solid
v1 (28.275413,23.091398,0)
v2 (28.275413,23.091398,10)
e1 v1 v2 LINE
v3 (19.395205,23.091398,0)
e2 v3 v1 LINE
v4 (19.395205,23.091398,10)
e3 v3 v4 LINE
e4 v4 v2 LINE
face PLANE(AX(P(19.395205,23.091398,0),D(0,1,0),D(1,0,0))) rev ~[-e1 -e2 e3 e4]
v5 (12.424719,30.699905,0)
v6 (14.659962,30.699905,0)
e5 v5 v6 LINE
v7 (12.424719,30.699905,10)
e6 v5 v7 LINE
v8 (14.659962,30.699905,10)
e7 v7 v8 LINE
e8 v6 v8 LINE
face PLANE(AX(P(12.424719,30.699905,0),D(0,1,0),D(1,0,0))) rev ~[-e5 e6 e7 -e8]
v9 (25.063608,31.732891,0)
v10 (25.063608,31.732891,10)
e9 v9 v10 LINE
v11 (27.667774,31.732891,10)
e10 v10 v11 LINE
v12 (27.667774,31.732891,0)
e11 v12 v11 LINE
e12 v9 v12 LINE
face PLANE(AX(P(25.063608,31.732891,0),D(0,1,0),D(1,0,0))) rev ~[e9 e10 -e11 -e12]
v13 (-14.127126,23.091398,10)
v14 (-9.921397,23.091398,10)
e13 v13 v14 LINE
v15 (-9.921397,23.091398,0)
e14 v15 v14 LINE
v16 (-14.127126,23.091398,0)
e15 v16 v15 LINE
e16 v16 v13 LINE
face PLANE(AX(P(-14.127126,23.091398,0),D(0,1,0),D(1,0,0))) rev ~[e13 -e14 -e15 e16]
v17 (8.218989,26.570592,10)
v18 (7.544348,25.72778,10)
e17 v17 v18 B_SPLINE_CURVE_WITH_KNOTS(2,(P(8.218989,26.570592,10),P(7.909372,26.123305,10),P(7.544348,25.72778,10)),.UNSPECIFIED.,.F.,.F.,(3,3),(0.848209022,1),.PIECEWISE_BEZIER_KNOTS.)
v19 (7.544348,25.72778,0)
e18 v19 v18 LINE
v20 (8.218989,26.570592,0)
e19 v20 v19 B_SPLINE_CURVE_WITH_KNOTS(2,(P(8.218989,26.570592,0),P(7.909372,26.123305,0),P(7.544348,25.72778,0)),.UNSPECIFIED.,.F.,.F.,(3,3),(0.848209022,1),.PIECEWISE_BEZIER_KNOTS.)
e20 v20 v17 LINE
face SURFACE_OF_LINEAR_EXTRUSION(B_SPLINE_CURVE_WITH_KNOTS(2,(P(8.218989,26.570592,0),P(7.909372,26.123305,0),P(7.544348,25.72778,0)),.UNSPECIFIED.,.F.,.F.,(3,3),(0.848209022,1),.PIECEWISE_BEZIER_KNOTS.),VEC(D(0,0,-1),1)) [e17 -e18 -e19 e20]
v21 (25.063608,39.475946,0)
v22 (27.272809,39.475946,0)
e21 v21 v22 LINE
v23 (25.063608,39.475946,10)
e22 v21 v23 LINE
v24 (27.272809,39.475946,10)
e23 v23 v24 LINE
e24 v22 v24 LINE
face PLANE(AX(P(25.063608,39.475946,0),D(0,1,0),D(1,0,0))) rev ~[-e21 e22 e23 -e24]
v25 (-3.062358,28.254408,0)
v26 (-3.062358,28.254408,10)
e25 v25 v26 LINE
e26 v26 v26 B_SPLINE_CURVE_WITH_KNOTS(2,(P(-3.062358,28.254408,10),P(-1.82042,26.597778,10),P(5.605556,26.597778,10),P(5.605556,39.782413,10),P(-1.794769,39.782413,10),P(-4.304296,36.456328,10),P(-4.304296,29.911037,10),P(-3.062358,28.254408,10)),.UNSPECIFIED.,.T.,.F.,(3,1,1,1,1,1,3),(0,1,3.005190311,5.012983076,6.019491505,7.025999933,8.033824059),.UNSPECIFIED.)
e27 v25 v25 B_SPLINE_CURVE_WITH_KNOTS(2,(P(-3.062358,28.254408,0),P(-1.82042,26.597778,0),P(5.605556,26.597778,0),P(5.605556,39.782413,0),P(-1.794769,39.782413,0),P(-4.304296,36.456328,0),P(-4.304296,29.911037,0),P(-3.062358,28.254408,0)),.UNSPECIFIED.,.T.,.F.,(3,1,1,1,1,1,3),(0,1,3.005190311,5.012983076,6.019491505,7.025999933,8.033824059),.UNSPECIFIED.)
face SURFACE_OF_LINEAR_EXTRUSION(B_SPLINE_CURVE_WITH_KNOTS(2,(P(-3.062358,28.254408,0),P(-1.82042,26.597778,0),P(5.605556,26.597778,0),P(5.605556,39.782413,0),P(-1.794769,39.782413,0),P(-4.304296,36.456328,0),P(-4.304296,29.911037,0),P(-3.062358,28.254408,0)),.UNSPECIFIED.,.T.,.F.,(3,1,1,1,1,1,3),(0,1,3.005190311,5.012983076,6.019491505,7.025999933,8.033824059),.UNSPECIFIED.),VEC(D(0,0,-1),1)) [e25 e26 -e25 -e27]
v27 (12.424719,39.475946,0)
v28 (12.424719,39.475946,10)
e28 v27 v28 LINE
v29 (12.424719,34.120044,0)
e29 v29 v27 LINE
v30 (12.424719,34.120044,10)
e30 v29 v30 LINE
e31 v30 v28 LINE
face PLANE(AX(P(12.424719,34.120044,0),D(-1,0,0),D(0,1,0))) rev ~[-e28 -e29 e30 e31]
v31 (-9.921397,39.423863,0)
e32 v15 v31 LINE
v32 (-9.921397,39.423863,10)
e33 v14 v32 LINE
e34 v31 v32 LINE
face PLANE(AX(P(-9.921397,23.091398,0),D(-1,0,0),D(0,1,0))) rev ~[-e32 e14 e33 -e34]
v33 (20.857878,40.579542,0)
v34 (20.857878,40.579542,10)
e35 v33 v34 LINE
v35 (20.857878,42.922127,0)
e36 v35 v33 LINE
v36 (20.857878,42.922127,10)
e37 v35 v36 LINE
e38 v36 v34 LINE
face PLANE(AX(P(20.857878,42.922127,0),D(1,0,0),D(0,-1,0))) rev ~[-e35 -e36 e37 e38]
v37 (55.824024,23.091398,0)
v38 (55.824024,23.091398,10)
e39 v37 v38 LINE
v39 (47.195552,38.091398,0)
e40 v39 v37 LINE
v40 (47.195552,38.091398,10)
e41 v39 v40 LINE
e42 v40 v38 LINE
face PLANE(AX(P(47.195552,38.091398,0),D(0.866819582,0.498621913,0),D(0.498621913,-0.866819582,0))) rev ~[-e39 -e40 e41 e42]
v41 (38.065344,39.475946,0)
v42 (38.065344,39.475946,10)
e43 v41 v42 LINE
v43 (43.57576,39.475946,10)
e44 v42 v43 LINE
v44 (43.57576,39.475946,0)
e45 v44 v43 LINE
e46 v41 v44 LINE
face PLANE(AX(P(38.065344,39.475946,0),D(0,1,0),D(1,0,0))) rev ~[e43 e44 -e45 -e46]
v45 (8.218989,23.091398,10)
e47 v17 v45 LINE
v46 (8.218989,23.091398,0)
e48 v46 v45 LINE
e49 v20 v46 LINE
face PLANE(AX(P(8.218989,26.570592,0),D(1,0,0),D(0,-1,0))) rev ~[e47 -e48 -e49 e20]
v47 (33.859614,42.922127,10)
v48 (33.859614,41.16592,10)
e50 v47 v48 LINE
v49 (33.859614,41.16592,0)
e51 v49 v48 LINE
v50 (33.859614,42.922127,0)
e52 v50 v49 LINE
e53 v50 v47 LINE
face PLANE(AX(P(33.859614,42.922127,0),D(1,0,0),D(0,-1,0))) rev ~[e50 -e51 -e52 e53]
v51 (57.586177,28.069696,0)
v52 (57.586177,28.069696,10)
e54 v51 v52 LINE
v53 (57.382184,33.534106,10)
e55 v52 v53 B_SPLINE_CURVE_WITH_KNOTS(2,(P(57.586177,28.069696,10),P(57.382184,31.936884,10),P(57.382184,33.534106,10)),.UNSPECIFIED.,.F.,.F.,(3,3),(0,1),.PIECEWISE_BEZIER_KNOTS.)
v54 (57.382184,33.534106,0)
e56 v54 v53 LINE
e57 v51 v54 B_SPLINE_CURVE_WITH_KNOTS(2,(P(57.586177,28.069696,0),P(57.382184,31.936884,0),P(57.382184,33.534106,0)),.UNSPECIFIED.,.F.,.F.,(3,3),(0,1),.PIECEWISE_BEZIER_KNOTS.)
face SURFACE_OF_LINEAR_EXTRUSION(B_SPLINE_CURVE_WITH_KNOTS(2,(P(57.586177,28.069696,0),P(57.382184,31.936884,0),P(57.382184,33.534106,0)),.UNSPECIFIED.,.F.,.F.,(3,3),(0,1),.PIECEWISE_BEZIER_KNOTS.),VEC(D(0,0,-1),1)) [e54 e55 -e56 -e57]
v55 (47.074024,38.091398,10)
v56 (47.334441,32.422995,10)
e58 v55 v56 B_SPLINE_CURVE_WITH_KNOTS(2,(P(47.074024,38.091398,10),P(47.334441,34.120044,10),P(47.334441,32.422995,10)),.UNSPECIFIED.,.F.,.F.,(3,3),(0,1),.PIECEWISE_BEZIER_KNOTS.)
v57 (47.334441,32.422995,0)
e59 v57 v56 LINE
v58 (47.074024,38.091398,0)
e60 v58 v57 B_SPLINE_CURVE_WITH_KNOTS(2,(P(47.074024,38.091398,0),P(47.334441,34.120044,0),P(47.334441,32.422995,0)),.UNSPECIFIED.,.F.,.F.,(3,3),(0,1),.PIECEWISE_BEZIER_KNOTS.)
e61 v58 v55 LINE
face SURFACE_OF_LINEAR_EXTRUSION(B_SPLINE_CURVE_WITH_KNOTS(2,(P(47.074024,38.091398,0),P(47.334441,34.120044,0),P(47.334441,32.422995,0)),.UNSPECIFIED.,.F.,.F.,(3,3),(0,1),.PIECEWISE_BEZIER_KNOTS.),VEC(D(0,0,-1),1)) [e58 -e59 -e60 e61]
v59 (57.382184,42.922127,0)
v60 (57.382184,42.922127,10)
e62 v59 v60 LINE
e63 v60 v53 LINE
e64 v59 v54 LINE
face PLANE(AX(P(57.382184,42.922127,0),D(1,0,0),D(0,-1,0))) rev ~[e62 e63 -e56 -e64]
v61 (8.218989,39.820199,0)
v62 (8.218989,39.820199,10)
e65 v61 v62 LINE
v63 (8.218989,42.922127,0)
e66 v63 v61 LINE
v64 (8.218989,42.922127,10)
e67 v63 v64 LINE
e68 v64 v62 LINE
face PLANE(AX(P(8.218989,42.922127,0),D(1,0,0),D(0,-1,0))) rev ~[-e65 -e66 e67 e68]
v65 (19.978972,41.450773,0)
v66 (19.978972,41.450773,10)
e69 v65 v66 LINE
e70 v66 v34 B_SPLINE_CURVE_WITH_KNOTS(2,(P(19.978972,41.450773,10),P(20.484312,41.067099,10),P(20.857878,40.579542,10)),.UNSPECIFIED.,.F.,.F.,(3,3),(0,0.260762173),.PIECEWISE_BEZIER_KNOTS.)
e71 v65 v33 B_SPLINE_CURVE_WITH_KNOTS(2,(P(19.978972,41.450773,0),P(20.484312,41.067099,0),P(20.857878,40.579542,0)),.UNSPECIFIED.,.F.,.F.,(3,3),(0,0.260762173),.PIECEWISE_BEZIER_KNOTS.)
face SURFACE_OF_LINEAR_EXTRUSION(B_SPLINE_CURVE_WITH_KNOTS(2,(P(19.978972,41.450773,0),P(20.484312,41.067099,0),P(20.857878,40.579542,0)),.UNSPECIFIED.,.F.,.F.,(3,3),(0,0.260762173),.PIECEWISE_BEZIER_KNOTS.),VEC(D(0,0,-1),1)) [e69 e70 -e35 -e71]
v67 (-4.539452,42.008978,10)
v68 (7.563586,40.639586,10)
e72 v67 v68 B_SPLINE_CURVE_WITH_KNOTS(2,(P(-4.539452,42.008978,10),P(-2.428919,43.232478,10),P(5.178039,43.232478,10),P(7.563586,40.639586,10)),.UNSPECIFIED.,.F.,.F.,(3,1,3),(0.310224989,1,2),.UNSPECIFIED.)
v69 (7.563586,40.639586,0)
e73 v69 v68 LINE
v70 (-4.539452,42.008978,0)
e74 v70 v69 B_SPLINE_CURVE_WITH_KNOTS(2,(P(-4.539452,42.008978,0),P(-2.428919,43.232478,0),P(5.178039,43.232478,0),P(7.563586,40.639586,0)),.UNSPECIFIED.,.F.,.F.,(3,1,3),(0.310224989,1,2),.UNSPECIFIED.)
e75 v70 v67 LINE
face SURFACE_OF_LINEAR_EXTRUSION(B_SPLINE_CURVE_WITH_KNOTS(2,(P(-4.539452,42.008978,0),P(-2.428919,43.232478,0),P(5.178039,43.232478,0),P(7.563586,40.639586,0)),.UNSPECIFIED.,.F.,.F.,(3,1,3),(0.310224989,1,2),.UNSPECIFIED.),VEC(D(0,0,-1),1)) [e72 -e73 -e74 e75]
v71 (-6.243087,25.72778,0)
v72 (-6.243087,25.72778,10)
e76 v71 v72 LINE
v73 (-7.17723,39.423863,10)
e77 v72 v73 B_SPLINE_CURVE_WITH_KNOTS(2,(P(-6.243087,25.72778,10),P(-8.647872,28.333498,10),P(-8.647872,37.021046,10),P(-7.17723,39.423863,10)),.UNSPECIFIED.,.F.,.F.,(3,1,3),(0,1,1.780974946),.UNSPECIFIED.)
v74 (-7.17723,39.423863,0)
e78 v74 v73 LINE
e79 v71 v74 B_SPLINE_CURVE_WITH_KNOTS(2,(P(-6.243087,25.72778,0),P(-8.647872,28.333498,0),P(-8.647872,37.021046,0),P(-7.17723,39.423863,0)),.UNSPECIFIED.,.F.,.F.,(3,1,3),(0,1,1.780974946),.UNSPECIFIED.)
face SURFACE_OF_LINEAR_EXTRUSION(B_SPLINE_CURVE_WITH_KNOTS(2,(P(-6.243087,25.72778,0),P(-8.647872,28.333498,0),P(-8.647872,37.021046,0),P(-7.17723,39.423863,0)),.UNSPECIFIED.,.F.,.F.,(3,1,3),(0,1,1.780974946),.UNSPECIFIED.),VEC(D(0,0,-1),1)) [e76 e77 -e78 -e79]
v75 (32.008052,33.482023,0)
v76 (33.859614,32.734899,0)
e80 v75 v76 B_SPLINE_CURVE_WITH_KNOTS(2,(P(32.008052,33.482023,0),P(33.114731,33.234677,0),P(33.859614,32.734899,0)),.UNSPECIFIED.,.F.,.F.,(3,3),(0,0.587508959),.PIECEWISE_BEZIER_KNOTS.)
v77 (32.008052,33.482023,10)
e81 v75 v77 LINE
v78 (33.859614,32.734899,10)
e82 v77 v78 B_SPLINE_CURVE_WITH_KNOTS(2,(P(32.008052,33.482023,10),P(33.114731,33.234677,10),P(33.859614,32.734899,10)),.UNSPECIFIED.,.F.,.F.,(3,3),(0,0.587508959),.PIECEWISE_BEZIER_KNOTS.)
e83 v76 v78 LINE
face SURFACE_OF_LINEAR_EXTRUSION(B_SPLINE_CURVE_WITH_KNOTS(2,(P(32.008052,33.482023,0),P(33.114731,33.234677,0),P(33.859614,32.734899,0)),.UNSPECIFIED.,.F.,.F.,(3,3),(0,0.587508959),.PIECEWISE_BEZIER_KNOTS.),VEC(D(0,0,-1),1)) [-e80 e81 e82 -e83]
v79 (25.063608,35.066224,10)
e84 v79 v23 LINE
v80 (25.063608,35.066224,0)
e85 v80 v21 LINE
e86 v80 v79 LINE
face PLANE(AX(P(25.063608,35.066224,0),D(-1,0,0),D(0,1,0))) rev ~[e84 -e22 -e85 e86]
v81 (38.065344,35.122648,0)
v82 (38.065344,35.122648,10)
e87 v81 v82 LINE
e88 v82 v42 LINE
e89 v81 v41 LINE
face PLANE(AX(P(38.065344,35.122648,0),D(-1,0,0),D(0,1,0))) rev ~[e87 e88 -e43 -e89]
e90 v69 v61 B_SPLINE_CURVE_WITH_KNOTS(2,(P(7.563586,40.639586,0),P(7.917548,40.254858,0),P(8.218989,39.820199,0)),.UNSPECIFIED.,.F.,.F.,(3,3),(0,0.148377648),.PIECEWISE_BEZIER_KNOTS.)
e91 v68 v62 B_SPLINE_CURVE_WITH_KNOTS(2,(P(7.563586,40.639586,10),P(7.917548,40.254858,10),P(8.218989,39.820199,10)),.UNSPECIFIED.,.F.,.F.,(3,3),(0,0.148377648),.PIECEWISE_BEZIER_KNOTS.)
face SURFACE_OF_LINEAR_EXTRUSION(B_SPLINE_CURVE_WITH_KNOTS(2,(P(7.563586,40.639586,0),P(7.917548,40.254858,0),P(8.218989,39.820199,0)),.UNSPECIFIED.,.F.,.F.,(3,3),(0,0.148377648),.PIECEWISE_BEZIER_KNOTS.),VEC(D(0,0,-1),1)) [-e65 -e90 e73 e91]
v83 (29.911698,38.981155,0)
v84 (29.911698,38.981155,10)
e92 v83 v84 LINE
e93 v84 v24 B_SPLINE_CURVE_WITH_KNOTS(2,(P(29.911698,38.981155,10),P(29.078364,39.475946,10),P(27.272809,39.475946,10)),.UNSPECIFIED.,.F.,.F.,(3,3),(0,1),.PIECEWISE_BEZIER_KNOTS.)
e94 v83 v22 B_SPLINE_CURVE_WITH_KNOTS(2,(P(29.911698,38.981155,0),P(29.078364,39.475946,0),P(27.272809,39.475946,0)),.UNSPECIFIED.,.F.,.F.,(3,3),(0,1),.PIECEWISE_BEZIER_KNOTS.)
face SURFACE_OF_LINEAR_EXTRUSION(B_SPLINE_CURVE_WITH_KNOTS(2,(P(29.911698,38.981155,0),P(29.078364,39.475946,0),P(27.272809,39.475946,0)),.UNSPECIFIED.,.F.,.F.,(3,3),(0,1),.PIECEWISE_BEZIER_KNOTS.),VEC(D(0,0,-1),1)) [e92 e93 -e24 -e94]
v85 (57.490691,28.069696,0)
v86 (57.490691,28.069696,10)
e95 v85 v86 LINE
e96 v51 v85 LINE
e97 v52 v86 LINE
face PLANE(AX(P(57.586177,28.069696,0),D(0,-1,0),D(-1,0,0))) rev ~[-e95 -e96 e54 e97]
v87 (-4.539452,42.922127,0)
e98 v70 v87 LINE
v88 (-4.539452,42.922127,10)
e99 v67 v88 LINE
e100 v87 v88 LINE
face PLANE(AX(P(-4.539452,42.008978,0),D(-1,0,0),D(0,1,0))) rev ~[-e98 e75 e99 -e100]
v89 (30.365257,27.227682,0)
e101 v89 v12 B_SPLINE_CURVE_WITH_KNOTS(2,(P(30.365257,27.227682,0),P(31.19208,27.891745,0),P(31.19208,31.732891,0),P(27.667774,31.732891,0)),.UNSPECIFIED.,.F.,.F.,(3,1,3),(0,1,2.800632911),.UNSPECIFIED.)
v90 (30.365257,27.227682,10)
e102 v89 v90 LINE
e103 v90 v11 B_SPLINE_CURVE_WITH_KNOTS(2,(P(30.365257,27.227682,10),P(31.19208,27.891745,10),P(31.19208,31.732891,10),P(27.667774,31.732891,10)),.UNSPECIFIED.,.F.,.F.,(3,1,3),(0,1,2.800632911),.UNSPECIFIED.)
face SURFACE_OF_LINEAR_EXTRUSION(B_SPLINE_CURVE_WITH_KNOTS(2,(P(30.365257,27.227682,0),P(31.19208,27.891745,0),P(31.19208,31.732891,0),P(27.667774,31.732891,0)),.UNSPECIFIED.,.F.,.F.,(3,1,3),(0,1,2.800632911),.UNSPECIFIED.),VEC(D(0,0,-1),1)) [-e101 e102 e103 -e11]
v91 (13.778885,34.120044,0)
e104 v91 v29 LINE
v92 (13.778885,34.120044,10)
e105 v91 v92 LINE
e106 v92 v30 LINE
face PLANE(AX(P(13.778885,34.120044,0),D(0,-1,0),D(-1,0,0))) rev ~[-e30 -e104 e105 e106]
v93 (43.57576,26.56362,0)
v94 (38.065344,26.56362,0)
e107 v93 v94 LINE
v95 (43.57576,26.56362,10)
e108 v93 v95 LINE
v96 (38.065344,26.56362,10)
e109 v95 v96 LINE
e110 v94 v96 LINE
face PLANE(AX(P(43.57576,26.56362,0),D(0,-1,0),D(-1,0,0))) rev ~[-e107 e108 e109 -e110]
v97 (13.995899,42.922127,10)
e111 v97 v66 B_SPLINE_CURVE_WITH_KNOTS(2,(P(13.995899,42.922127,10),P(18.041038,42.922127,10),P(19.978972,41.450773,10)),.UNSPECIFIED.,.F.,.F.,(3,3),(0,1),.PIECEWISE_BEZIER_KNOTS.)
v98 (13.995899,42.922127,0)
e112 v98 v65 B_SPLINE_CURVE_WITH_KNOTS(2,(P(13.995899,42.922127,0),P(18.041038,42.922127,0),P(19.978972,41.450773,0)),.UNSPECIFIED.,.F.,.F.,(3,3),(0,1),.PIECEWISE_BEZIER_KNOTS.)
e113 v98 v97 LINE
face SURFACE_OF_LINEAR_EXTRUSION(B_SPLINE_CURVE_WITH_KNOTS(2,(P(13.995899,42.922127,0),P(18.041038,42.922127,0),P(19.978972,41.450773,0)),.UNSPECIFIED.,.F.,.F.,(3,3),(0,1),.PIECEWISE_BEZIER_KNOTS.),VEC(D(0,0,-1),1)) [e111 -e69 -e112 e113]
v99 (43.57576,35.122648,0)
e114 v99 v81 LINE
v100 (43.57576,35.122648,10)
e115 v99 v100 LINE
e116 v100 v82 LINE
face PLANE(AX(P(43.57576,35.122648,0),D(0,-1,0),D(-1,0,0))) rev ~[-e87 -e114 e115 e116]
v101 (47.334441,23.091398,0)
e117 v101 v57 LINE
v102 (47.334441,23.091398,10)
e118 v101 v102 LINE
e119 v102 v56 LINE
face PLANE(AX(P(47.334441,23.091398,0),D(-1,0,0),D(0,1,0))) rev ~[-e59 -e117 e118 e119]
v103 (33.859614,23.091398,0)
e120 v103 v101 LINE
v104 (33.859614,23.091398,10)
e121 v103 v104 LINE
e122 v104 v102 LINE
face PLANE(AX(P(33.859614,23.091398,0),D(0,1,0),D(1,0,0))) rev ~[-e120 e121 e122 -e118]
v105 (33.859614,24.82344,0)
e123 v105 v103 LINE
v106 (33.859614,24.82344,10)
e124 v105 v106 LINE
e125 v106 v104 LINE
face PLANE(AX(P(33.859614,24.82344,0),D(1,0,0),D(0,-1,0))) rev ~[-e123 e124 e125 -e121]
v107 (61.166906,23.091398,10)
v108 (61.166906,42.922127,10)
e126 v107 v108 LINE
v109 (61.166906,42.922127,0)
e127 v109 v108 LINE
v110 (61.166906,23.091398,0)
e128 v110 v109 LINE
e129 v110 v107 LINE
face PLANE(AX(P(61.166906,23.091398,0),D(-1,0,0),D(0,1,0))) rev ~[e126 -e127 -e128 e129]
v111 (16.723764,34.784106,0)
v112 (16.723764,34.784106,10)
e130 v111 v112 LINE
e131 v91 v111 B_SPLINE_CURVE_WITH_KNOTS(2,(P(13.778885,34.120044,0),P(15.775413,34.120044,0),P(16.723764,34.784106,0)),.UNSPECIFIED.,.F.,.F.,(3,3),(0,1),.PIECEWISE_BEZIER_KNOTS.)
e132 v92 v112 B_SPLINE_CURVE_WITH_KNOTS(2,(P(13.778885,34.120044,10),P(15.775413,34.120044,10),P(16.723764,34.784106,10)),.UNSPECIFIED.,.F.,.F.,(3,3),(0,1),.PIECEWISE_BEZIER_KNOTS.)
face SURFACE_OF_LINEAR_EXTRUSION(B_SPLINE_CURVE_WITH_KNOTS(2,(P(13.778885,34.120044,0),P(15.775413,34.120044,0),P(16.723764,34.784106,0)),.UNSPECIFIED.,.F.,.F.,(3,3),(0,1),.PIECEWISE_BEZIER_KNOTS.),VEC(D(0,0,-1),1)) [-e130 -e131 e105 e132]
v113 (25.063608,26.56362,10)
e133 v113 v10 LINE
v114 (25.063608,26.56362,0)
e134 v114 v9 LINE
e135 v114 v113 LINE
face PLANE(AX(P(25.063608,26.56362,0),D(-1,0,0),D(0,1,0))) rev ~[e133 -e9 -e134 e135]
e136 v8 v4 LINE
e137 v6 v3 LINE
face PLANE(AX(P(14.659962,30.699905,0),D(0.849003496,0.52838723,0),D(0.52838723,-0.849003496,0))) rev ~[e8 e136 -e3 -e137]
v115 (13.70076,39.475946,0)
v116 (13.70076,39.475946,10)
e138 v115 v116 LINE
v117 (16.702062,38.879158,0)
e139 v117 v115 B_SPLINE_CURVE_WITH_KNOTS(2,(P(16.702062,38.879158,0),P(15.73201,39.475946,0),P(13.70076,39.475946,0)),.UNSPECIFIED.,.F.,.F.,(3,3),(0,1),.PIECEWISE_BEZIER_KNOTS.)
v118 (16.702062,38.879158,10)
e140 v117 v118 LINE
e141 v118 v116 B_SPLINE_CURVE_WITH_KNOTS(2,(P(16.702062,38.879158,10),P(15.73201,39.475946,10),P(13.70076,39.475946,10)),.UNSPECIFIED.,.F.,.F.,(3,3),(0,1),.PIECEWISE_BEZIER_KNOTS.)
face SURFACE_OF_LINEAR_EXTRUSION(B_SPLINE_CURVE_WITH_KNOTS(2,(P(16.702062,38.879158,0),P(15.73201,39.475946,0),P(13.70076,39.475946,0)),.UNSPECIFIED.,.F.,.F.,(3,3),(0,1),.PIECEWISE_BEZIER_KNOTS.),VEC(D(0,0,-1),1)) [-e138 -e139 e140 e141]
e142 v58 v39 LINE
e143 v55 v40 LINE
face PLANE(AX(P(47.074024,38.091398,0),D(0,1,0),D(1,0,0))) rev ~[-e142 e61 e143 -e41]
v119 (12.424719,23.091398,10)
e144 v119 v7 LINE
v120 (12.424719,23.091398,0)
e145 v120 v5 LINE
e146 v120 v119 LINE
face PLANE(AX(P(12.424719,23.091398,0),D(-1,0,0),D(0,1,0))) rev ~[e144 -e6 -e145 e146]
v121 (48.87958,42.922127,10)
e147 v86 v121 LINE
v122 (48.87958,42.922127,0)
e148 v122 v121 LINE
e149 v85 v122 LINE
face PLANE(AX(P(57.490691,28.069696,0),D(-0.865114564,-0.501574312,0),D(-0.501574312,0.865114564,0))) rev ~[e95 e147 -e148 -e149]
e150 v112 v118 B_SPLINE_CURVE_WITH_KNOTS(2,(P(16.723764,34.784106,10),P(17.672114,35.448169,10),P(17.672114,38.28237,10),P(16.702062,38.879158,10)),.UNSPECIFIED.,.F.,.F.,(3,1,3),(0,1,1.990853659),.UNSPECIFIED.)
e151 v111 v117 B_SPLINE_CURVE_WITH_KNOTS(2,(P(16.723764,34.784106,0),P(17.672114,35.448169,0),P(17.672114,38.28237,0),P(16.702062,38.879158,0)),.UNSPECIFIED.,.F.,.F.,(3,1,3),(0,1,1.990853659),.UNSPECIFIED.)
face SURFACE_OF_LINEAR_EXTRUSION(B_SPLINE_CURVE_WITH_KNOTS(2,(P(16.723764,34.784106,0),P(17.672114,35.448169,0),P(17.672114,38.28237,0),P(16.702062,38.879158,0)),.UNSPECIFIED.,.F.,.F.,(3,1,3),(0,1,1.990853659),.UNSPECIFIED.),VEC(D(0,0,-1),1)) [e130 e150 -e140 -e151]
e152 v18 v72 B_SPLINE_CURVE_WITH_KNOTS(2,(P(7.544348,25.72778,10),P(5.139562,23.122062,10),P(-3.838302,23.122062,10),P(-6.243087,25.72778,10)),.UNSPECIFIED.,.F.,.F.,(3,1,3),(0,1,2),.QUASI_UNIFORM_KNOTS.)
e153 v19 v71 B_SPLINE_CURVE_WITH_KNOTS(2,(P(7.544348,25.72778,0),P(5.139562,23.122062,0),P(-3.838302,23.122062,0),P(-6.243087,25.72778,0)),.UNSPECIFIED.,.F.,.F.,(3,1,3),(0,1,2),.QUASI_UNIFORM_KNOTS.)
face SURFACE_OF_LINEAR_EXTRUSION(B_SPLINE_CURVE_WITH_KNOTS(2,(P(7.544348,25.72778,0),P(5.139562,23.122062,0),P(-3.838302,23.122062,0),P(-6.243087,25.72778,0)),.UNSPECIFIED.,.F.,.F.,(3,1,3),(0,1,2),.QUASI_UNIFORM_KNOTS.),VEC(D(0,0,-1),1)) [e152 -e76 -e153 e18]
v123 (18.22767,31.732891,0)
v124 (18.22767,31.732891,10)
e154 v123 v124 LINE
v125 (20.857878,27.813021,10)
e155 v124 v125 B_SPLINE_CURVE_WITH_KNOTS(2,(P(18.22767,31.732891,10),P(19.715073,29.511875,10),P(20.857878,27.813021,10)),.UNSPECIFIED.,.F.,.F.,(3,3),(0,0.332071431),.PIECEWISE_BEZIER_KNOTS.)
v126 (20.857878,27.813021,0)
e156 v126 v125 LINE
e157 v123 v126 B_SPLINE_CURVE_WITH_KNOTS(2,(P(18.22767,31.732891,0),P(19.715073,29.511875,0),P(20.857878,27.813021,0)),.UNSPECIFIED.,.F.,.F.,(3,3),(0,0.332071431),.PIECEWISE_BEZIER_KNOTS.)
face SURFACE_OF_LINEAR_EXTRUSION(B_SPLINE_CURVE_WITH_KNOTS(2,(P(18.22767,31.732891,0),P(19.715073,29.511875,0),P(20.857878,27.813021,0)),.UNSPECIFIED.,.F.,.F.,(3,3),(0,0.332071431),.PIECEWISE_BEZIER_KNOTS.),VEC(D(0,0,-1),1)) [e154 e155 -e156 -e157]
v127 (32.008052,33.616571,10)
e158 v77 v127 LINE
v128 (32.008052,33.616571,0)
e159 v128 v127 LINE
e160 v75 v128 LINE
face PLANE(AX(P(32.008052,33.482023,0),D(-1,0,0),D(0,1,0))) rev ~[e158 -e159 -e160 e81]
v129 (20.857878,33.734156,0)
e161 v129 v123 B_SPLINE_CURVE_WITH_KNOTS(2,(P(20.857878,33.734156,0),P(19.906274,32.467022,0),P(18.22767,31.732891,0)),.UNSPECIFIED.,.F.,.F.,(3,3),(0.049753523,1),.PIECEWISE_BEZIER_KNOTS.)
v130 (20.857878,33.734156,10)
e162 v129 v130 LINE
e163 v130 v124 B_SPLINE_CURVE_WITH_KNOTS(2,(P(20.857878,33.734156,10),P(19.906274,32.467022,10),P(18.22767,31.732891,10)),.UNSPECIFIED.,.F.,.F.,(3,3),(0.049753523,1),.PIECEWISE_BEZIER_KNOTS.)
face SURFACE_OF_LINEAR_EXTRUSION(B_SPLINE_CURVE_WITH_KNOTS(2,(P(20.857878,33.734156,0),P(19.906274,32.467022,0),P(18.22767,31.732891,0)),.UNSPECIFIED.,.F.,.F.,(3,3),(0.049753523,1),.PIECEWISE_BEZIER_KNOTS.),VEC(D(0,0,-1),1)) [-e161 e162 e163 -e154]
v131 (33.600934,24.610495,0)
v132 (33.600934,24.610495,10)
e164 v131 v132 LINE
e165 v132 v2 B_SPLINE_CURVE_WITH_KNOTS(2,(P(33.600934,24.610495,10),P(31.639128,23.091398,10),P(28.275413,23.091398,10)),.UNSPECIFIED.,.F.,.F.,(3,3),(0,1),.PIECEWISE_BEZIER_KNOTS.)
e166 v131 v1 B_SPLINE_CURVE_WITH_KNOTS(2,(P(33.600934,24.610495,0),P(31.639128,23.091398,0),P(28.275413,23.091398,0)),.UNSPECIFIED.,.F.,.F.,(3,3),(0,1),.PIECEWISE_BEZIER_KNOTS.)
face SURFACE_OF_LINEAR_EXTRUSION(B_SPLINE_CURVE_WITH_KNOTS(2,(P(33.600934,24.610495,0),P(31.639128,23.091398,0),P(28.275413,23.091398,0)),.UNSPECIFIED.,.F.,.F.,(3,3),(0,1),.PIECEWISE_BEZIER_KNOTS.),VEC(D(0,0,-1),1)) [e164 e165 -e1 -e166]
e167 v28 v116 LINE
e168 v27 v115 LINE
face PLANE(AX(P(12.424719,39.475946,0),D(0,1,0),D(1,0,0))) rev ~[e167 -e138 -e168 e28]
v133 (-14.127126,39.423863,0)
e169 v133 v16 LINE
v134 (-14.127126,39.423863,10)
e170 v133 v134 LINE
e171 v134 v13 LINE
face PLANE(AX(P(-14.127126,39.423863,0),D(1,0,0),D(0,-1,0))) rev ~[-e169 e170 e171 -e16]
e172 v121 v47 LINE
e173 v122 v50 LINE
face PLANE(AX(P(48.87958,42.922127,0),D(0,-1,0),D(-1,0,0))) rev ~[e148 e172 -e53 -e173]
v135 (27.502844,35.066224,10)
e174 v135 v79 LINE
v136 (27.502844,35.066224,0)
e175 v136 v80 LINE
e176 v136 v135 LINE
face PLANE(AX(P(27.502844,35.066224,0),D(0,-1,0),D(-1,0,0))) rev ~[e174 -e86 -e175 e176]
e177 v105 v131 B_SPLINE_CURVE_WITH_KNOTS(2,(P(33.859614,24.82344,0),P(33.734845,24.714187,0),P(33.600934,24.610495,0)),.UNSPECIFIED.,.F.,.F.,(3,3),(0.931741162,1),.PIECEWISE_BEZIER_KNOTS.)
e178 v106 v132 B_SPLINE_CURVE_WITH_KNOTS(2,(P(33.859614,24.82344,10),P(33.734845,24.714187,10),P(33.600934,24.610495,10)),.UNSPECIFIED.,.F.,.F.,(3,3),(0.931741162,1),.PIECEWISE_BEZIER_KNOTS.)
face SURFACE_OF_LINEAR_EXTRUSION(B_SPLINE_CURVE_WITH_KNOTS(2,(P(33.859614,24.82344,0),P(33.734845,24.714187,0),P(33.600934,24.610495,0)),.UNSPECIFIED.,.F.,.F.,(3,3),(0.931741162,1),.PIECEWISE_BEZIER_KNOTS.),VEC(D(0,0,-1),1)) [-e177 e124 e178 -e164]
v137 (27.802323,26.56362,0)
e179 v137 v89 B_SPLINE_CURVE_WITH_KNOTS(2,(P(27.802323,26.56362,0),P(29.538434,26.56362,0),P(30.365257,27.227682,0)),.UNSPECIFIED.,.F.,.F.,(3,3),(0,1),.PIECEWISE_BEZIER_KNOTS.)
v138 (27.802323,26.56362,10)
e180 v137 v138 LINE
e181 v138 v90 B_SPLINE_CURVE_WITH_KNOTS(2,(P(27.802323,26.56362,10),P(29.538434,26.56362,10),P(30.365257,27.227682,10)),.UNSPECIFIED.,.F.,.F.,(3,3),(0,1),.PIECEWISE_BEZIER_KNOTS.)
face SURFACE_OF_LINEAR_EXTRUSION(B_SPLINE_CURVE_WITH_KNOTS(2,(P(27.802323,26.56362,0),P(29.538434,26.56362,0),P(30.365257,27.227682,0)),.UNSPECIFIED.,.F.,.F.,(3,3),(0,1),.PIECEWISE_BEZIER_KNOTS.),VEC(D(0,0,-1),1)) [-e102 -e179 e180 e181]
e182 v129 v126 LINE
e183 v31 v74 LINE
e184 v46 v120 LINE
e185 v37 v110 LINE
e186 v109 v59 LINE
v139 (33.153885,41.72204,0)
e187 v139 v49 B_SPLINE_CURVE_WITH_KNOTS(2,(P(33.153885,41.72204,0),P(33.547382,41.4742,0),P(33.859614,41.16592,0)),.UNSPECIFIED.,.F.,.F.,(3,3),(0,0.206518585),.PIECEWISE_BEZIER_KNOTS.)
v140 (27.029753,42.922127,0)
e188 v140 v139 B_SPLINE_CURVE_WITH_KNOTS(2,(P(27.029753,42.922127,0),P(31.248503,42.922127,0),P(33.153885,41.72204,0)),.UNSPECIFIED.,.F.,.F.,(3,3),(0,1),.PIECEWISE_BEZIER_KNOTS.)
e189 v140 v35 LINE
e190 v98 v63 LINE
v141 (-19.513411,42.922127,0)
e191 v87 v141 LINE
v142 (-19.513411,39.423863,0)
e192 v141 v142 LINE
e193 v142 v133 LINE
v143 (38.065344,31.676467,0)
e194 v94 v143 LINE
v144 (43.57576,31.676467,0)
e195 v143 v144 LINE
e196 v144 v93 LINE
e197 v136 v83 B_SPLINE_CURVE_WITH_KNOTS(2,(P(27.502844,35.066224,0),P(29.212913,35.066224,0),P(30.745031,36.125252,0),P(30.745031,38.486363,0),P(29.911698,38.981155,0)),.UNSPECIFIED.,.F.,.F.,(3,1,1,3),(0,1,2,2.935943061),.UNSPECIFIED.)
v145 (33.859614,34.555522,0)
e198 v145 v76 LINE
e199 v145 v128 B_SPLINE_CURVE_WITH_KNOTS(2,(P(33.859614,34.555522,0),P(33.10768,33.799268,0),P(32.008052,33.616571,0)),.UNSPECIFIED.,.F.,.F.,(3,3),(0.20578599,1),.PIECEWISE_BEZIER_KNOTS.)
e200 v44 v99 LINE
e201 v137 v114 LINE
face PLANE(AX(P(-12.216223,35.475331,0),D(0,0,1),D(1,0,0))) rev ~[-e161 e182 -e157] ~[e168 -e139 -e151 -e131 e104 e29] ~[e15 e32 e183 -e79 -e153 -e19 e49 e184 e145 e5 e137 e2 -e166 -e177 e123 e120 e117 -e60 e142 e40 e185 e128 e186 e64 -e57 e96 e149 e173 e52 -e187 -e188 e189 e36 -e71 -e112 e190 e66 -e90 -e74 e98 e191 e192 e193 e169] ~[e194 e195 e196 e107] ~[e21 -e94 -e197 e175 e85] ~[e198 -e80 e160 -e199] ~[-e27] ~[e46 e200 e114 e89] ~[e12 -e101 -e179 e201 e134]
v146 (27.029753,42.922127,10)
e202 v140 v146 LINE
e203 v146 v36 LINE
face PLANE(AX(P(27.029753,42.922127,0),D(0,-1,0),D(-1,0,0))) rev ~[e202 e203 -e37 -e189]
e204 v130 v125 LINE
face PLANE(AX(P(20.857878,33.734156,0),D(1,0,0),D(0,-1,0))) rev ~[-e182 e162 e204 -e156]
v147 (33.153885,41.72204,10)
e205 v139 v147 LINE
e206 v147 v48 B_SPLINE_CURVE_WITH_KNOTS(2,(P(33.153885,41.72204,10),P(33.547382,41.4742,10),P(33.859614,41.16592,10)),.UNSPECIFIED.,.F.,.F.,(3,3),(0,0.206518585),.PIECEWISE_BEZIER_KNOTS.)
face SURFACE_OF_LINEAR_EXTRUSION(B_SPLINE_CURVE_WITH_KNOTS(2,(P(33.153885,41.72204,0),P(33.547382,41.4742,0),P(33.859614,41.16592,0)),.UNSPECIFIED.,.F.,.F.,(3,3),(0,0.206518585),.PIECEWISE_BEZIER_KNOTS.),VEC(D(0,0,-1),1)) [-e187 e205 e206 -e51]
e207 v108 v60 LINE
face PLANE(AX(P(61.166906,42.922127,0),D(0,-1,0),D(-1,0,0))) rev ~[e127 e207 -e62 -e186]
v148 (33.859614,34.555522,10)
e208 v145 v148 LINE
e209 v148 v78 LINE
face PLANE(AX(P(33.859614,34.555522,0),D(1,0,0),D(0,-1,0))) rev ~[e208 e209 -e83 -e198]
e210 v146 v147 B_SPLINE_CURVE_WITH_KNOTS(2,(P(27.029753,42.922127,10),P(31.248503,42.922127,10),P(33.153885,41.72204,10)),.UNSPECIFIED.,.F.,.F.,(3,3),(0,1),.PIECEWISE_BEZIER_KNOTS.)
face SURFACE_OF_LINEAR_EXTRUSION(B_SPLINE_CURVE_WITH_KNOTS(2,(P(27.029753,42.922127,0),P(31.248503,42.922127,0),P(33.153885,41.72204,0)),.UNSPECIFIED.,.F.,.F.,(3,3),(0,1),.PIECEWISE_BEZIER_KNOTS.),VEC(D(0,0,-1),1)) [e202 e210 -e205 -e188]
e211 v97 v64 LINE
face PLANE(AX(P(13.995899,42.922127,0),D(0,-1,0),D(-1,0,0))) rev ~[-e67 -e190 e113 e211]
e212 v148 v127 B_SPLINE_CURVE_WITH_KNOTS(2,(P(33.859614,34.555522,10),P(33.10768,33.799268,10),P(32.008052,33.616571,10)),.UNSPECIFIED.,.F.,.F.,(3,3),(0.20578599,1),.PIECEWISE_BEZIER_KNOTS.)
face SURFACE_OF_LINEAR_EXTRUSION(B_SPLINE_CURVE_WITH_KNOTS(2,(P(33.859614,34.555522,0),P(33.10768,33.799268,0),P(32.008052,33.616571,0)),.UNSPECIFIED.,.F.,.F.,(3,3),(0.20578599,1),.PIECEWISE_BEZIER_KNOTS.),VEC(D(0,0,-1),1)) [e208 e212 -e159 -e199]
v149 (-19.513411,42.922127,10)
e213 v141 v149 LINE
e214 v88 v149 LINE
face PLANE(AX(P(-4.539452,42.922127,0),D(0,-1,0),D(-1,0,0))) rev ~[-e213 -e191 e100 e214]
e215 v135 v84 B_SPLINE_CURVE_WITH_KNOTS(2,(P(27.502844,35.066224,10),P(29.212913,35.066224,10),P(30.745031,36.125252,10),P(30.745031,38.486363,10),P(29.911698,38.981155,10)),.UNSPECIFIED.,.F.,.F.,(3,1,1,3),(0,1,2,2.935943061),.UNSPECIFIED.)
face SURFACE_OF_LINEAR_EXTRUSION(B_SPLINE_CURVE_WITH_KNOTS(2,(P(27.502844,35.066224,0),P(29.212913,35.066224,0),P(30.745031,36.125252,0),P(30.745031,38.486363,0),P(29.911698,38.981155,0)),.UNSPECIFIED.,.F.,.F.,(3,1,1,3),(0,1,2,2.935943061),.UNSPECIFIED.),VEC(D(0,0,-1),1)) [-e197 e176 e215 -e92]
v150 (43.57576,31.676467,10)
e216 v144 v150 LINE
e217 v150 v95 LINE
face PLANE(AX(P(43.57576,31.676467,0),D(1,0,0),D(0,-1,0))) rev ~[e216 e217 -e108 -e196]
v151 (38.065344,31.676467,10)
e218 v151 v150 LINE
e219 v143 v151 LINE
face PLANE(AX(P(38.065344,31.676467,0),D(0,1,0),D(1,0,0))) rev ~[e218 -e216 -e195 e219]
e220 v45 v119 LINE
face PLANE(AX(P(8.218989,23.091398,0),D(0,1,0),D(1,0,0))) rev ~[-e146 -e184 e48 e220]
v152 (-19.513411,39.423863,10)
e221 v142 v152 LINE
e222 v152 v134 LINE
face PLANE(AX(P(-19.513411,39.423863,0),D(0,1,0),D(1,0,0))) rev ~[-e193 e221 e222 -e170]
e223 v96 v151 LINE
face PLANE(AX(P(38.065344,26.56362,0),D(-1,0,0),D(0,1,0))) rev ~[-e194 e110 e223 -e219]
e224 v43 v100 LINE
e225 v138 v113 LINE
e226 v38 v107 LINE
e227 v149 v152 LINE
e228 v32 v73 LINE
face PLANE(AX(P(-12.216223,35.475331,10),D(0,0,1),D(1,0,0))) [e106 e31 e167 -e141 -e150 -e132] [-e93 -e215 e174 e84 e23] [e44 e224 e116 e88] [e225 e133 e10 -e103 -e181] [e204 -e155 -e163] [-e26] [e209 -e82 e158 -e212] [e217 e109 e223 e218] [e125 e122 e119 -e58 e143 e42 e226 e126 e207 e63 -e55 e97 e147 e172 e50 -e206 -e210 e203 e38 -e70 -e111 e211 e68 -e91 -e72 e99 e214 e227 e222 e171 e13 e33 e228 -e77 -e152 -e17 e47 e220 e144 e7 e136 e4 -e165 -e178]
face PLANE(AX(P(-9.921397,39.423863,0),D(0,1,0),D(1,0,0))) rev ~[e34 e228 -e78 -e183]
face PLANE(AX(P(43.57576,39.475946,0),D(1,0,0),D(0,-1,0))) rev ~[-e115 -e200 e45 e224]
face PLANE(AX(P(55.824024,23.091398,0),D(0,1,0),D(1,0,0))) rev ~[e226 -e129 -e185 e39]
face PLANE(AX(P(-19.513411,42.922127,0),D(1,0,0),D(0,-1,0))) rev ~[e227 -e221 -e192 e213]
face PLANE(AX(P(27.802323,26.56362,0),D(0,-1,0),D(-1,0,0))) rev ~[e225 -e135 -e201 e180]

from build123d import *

# Parameters (mm, degrees)
F0_W     = 1.703125
F0_H     = 3.4461805556
F0_H_2   = 3.4722222222
F0_W_2   = 1.2039930556
F1_DEPTH = 10


with BuildPart() as f1:
    # F0 (on Top) → F1 (new body)
    with BuildSketch(Plane.XY):
        with BuildLine():
            Line((-14.1271259541, 23.0913977325), (-9.9213967874, 23.0913977325))
            Line((-9.9213967874, 23.0913977325), (-9.9213967874, 39.4238630103))
            Line((-9.9213967874, 39.4238630103), (-7.1772301491, 39.4238630103))
            add(Edge.make_bspline(
                [(-7.1772301491, 39.4238630103), (-6.7647873195, 40.0977349004), (-6.2366745652, 40.6609615346)],
                knots=[0.7809749458, 0.7809749458, 0.7809749458, 1, 1, 1], degree=2))
            add(Edge.make_bspline(
                [(-6.2366745652, 40.6609615346), (-5.4886607191, 41.4587103438), (-4.539452343, 42.0089775379)],
                knots=[0, 0, 0, 0.3102249885, 0.3102249885, 0.3102249885], degree=2))
            Line((-4.539452343, 42.0089775379), (-4.539452343, 42.9221268992))
            Line((-4.539452343, 42.9221268992), (-19.5134106763, 42.9221268992))
            Line((-19.5134106763, 42.9221268992), (-19.5134106763, 39.4238630103))
            Line((-19.5134106763, 39.4238630103), (-14.1271259541, 39.4238630103))
            Line((-14.1271259541, 39.4238630103), (-14.1271259541, 23.0913977325))
        make_face()
        with BuildLine():
            add(Edge.make_bspline(
                [(-7.1772301491, 39.4238630103), (-6.7647873195, 40.0977349004), (-6.2366745652, 40.6609615346)],
                knots=[0.7809749458, 0.7809749458, 0.7809749458, 1, 1, 1], degree=2))
            Line((-7.1772301491, 39.4238630103), (-4.539452343, 39.4238630103))
            Line((-4.539452343, 39.4238630103), (-4.539452343, 42.0089775379))
            add(Edge.make_bspline(
                [(-6.2366745652, 40.6609615346), (-5.4886607191, 41.4587103438), (-4.539452343, 42.0089775379)],
                knots=[0, 0, 0, 0.3102249885, 0.3102249885, 0.3102249885], degree=2))
        make_face()
        with BuildLine():
            Line((-4.539452343, 39.4238630103), (-7.1772301491, 39.4238630103))
            add(Edge.make_bspline(
                [(-8.6478724819, 33.2114715172), (-8.6478724819, 37.0210462872), (-7.1772301491, 39.4238630103)],
                knots=[0, 0, 0, 0.7809749458, 0.7809749458, 0.7809749458], degree=2))
            add(Edge.make_bspline(
                [(-6.2430873256, 25.727780111), (-8.6478724819, 28.3334984269), (-8.6478724819, 33.2114715172)],
                knots=[0, 0, 0, 1, 1, 1], degree=2))
            add(Edge.make_bspline(
                [(0.6506301223, 23.122061795), (-3.8383021694, 23.122061795), (-6.2430873256, 25.727780111)],
                knots=[0, 0, 0, 1, 1, 1], degree=2))
            add(Edge.make_bspline(
                [(7.5443475702, 25.727780111), (5.139562414, 23.122061795), (0.6506301223, 23.122061795)],
                knots=[0, 0, 0, 1, 1, 1], degree=2))
            add(Edge.make_bspline(
                [(8.2189894973, 26.5705920502), (7.9093722612, 26.1233046428), (7.5443475702, 25.727780111)],
                knots=[0.8482090219, 0.8482090219, 0.8482090219, 1, 1, 1], degree=2))
            Line((8.2189894973, 26.5705920502), (8.2189894973, 39.8201993237))
            add(Edge.make_bspline(
                [(7.5635858515, 40.6395856665), (7.9175476868, 40.2548583312), (8.2189894973, 39.8201993237)],
                knots=[0, 0, 0, 0.1483776483, 0.1483776483, 0.1483776483], degree=2))
            add(Edge.make_bspline(
                [(0.676281164, 43.2324784617), (5.1780389765, 43.2324784617), (7.5635858515, 40.6395856665)],
                knots=[0, 0, 0, 1, 1, 1], degree=2))
            add(Edge.make_bspline(
                [(-4.539452343, 42.0089775379), (-2.4289188827, 43.2324784617), (0.676281164, 43.2324784617)],
                knots=[0.3102249885, 0.3102249885, 0.3102249885, 1, 1, 1], degree=2))
            Line((-4.539452343, 42.0089775379), (-4.539452343, 39.4238630103))
        make_face()
        with BuildLine():
            add(Edge.make_bspline(
                [(-4.304296093, 33.1858204756), (-4.304296093, 29.9110374894), (-3.0623581589, 28.2544077151)],
                knots=[0, 0, 0, 1, 1, 1], degree=2))
            add(Edge.make_bspline(
                [(-3.0495326381, 38.1193708228), (-4.304296093, 36.4563282881), (-4.304296093, 33.1858204756)],
                knots=[0, 0, 0, 1, 1, 1], degree=2))
            add(Edge.make_bspline(
                [(0.676281164, 39.7824133575), (-1.7947691832, 39.7824133575), (-3.0495326381, 38.1193708228)],
                knots=[0, 0, 0, 1, 1, 1], degree=2))
            add(Edge.make_bspline(
                [(5.6055563376, 33.1858204756), (5.6055563376, 39.7824133575), (0.676281164, 39.7824133575)],
                knots=[0, 0, 0, 1, 1, 1], degree=2))
            add(Edge.make_bspline(
                [(0.6506301223, 26.5977779408), (5.6055563376, 26.5977779408), (5.6055563376, 33.1858204756)],
                knots=[0, 0, 0, 1, 1, 1], degree=2))
            add(Edge.make_bspline(
                [(-3.0623581589, 28.2544077151), (-1.8204202249, 26.5977779408), (0.6506301223, 26.5977779408)],
                knots=[0, 0, 0, 1, 1, 1], degree=2))
        make_face(mode=Mode.SUBTRACT)
        with BuildLine():
            Line((8.2189894973, 42.9221268992), (8.2189894973, 39.8201993237))
            add(Edge.make_bspline(
                [(8.2189894973, 39.8201993237), (9.9491327265, 37.3254480565), (9.9491327265, 33.1858204756)],
                knots=[0.1483776483, 0.1483776483, 0.1483776483, 1, 1, 1], degree=2))
            add(Edge.make_bspline(
                [(9.9491327265, 33.1858204756), (9.9491327265, 29.0700371367), (8.2189894973, 26.5705920502)],
                knots=[0, 0, 0, 0.8482090219, 0.8482090219, 0.8482090219], degree=2))
            Line((8.2189894973, 26.5705920502), (8.2189894973, 23.0913977325))
            Line((8.2189894973, 23.0913977325), (12.424718664, 23.0913977325))
            Line((12.424718664, 23.0913977325), (12.424718664, 30.6999046769))
            Line((12.424718664, 30.6999046769), (14.6599617195, 30.6999046769))
            Line((14.6599617195, 30.6999046769), (19.3952047751, 23.0913977325))
            Line((19.3952047751, 23.0913977325), (20.8578783862, 23.0913977325))
            Line((20.8578783862, 23.0913977325), (20.8578783862, 27.8130209348))
            add(Edge.make_bspline(
                [(18.2276700529, 31.7328907881), (19.7150733371, 29.5118748375), (20.8578783862, 27.8130209348)],
                knots=[0, 0, 0, 0.3320714309, 0.3320714309, 0.3320714309], degree=2))
            add(Edge.make_bspline(
                [(20.8578783862, 33.7341557337), (19.9062738548, 32.4670221806), (18.2276700529, 31.7328907881)],
                knots=[0.0497535234, 0.0497535234, 0.0497535234, 1, 1, 1], degree=2))
            Line((20.8578783862, 33.7341557337), (20.8578783862, 40.5795415424))
            add(Edge.make_bspline(
                [(19.9789721362, 41.4507727325), (20.484312025, 41.0670992223), (20.8578783862, 40.5795415424)],
                knots=[0, 0, 0, 0.2607621733, 0.2607621733, 0.2607621733], degree=2))
            add(Edge.make_bspline(
                [(13.9958992195, 42.9221268992), (18.0410381084, 42.9221268992), (19.9789721362, 41.4507727325)],
                knots=[0, 0, 0, 1, 1, 1], degree=2))
            Line((13.9958992195, 42.9221268992), (8.2189894973, 42.9221268992))
        make_face()
        with BuildLine():
            Line((13.7788853306, 34.1200435658), (12.424718664, 34.1200435658))
            Line((12.424718664, 34.1200435658), (12.424718664, 39.4759463436))
            Line((12.424718664, 39.4759463436), (13.7007603306, 39.4759463436))
            add(Edge.make_bspline(
                [(16.702062414, 38.8791581492), (15.7320103306, 39.4759463436), (13.7007603306, 39.4759463436)],
                knots=[0, 0, 0, 1, 1, 1], degree=2))
            add(Edge.make_bspline(
                [(17.6721144973, 36.8717796769), (17.6721144973, 38.2823699547), (16.702062414, 38.8791581492)],
                knots=[0, 0, 0, 1, 1, 1], degree=2))
            add(Edge.make_bspline(
                [(16.7237638029, 34.7841060658), (17.6721144973, 35.4481685658), (17.6721144973, 36.8717796769)],
                knots=[0, 0, 0, 1, 1, 1], degree=2))
            add(Edge.make_bspline(
                [(13.7788853306, 34.1200435658), (15.7754131084, 34.1200435658), (16.7237638029, 34.7841060658)],
                knots=[0, 0, 0, 1, 1, 1], degree=2))
        make_face(mode=Mode.SUBTRACT)
        with BuildLine():
            add(Edge.make_bspline(
                [(8.2189894973, 39.8201993237), (9.9491327265, 37.3254480565), (9.9491327265, 33.1858204756)],
                knots=[0.1483776483, 0.1483776483, 0.1483776483, 1, 1, 1], degree=2))
            Line((8.2189894973, 39.8201993237), (8.2189894973, 26.5705920502))
            add(Edge.make_bspline(
                [(9.9491327265, 33.1858204756), (9.9491327265, 29.0700371367), (8.2189894973, 26.5705920502)],
                knots=[0, 0, 0, 0.8482090219, 0.8482090219, 0.8482090219], degree=2))
        make_face()
        with BuildLine():
            Line((20.8578783862, 42.9221268992), (20.8578783862, 40.5795415424))
            add(Edge.make_bspline(
                [(20.8578783862, 40.5795415424), (21.916906164, 39.1973584019), (21.916906164, 36.9802866214)],
                knots=[0.2607621733, 0.2607621733, 0.2607621733, 1, 1, 1], degree=2))
            add(Edge.make_bspline(
                [(21.916906164, 36.9802866214), (21.916906164, 35.2311546769), (20.9555346362, 33.8683074547)],
                knots=[0, 0, 0, 1, 1, 1], degree=2))
            add(Edge.make_bspline(
                [(20.9555346362, 33.8683074547), (20.9077030154, 33.8005010035), (20.8578783862, 33.7341557337)],
                knots=[0, 0, 0, 0.0497535234, 0.0497535234, 0.0497535234], degree=2))
            Line((20.8578783862, 33.7341557337), (20.8578783862, 27.8130209348))
            add(Edge.make_bspline(
                [(20.8578783862, 27.8130209348), (23.1565167822, 24.395945719), (24.0610033862, 23.0913977325)],
                knots=[0.3320714309, 0.3320714309, 0.3320714309, 1, 1, 1], degree=2))
            Line((24.0610033862, 23.0913977325), (28.2754131084, 23.0913977325))
            add(Edge.make_bspline(
                [(33.6009339418, 24.6104949547), (31.6391283862, 23.0913977325), (28.2754131084, 23.0913977325)],
                knots=[0, 0, 0, 1, 1, 1], degree=2))
            add(Edge.make_bspline(
                [(33.8596144973, 24.8234397706), (33.7348445094, 24.714186766), (33.6009339418, 24.6104949547)],
                knots=[0.931741162, 0.931741162, 0.931741162, 1, 1, 1], degree=2))
            Line((33.8596144973, 24.8234397706), (33.8596144973, 32.7348988606))
            add(Edge.make_bspline(
                [(32.0080519973, 33.4820227325), (33.1147312003, 33.2346773807), (33.8596144973, 32.7348988606)],
                knots=[0, 0, 0, 0.5875089594, 0.5875089594, 0.5875089594], degree=2))
            Line((32.0080519973, 33.4820227325), (32.0080519973, 33.6165713436))
            add(Edge.make_bspline(
                [(33.8596144973, 34.5555220159), (33.1076799022, 33.7992681428), (32.0080519973, 33.6165713436)],
                knots=[0.2057859897, 0.2057859897, 0.2057859897, 1, 1, 1], degree=2))
            Line((33.8596144973, 34.5555220159), (33.8596144973, 41.1659203966))
            add(Edge.make_bspline(
                [(33.1538853306, 41.7220400936), (33.5473821133, 41.4741998649), (33.8596144973, 41.1659203966)],
                knots=[0, 0, 0, 0.2065185848, 0.2065185848, 0.2065185848], degree=2))
            add(Edge.make_bspline(
                [(27.0297533862, 42.9221268992), (31.2485033862, 42.9221268992), (33.1538853306, 41.7220400936)],
                knots=[0, 0, 0, 1, 1, 1], degree=2))
            Line((27.0297533862, 42.9221268992), (20.8578783862, 42.9221268992))
        make_face()
        with BuildLine():
            Line((25.0636075529, 26.5636199547), (25.0636075529, 31.7328907881))
            Line((25.0636075529, 31.7328907881), (27.6677742195, 31.7328907881))
            add(Edge.make_bspline(
                [(31.1920797751, 29.2632727325), (31.1920797751, 31.7328907881), (27.6677742195, 31.7328907881)],
                knots=[0, 0, 0, 1, 1, 1], degree=2))
            add(Edge.make_bspline(
                [(30.3652568584, 27.2276824547), (31.1920797751, 27.8917449547), (31.1920797751, 29.2632727325)],
                knots=[0, 0, 0, 1, 1, 1], degree=2))
            add(Edge.make_bspline(
                [(27.8023228306, 26.5636199547), (29.5384339418, 26.5636199547), (30.3652568584, 27.2276824547)],
                knots=[0, 0, 0, 1, 1, 1], degree=2))
            Line((27.8023228306, 26.5636199547), (25.0636075529, 26.5636199547))
        make_face(mode=Mode.SUBTRACT)
        with BuildLine():
            Line((27.502843664, 35.0662241214), (25.0636075529, 35.0662241214))
            Line((25.0636075529, 35.0662241214), (25.0636075529, 39.4759463436))
            Line((25.0636075529, 39.4759463436), (27.2728089418, 39.4759463436))
            add(Edge.make_bspline(
                [(29.9116978306, 38.9811546769), (29.0783644973, 39.4759463436), (27.2728089418, 39.4759463436)],
                knots=[0, 0, 0, 1, 1, 1], degree=2))
            add(Edge.make_bspline(
                [(30.745031164, 37.3448699547), (30.745031164, 38.4863630103), (29.9116978306, 38.9811546769)],
                knots=[0, 0, 0, 1, 1, 1], degree=2))
            add(Edge.make_bspline(
                [(29.9789721362, 35.5957380103), (30.745031164, 36.1252518992), (30.745031164, 37.3448699547)],
                knots=[0, 0, 0, 1, 1, 1], degree=2))
            add(Edge.make_bspline(
                [(27.502843664, 35.0662241214), (29.2129131084, 35.0662241214), (29.9789721362, 35.5957380103)],
                knots=[0, 0, 0, 1, 1, 1], degree=2))
        make_face(mode=Mode.SUBTRACT)
        with BuildLine():
            add(Edge.make_bspline(
                [(20.8578783862, 40.5795415424), (21.916906164, 39.1973584019), (21.916906164, 36.9802866214)],
                knots=[0.2607621733, 0.2607621733, 0.2607621733, 1, 1, 1], degree=2))
            Line((20.8578783862, 40.5795415424), (20.8578783862, 33.7341557337))
            add(Edge.make_bspline(
                [(20.9555346362, 33.8683074547), (20.9077030154, 33.8005010035), (20.8578783862, 33.7341557337)],
                knots=[0, 0, 0, 0.0497535234, 0.0497535234, 0.0497535234], degree=2))
            add(Edge.make_bspline(
                [(21.916906164, 36.9802866214), (21.916906164, 35.2311546769), (20.9555346362, 33.8683074547)],
                knots=[0, 0, 0, 1, 1, 1], degree=2))
        make_face()
        with BuildLine():
            add(Edge.make_bspline(
                [(20.8578783862, 27.8130209348), (23.1565167822, 24.395945719), (24.0610033862, 23.0913977325)],
                knots=[0.3320714309, 0.3320714309, 0.3320714309, 1, 1, 1], degree=2))
            Line((20.8578783862, 27.8130209348), (20.8578783862, 23.0913977325))
            Line((20.8578783862, 23.0913977325), (24.0610033862, 23.0913977325))
        make_face()
        with BuildLine():
            Line((33.8596144973, 42.9221268992), (33.8596144973, 41.1659203966))
            add(Edge.make_bspline(
                [(33.8596144973, 41.1659203966), (35.0592672751, 39.9814554294), (35.0592672751, 37.9047657881)],
                knots=[0.2065185848, 0.2065185848, 0.2065185848, 1, 1, 1], degree=2))
            add(Edge.make_bspline(
                [(35.0592672751, 37.9047657881), (35.0592672751, 36.1252518992), (34.2259339418, 34.9859289825)],
                knots=[0, 0, 0, 1, 1, 1], degree=2))
            add(Edge.make_bspline(
                [(34.2259339418, 34.9859289825), (34.054445617, 34.7514722885), (33.8596144973, 34.5555220159)],
                knots=[0, 0, 0, 0.2057859897, 0.2057859897, 0.2057859897], degree=2))
            Line((33.8596144973, 34.5555220159), (33.8596144973, 32.7348988606))
            add(Edge.make_bspline(
                [(33.8596144973, 32.7348988606), (34.3825983284, 32.3840035107), (34.7272360251, 31.9086720381)],
                knots=[0.5875089594, 0.5875089594, 0.5875089594, 1, 1, 1], degree=2))
            add(Edge.make_bspline(
                [(34.7272360251, 31.9086720381), (35.5627394973, 30.7563282881), (35.5627394973, 28.8422657881)],
                knots=[0, 0, 0, 1, 1, 1], degree=2))
            add(Edge.make_bspline(
                [(35.5627394973, 28.8422657881), (35.5627394973, 26.3147561256), (33.8596144973, 24.8234397706)],
                knots=[0, 0, 0, 0.931741162, 0.931741162, 0.931741162], degree=2))
            Line((33.8596144973, 24.8234397706), (33.8596144973, 23.0913977325))
            Line((33.8596144973, 23.0913977325), (43.5757603306, 23.0913977325))
            Line((43.5757603306, 23.0913977325), (43.5757603306, 26.5636199547))
            Line((43.5757603306, 26.5636199547), (38.065343664, 26.5636199547))
            Line((38.065343664, 26.5636199547), (38.065343664, 31.6764671769))
            Line((38.065343664, 31.6764671769), (43.5757603306, 31.6764671769))
            Line((43.5757603306, 31.6764671769), (43.5757603306, 35.1226477325))
            Line((43.5757603306, 35.1226477325), (38.065343664, 35.1226477325))
            Line((38.065343664, 35.1226477325), (38.065343664, 39.4759463436))
            Line((38.065343664, 39.4759463436), (43.5757603306, 39.4759463436))
            Line((43.5757603306, 39.4759463436), (43.5757603306, 42.9221268992))
            Line((43.5757603306, 42.9221268992), (33.8596144973, 42.9221268992))
        make_face()
        with BuildLine():
            add(Edge.make_bspline(
                [(33.8596144973, 41.1659203966), (35.0592672751, 39.9814554294), (35.0592672751, 37.9047657881)],
                knots=[0.2065185848, 0.2065185848, 0.2065185848, 1, 1, 1], degree=2))
            Line((33.8596144973, 41.1659203966), (33.8596144973, 34.5555220159))
            add(Edge.make_bspline(
                [(34.2259339418, 34.9859289825), (34.054445617, 34.7514722885), (33.8596144973, 34.5555220159)],
                knots=[0, 0, 0, 0.2057859897, 0.2057859897, 0.2057859897], degree=2))
            add(Edge.make_bspline(
                [(35.0592672751, 37.9047657881), (35.0592672751, 36.1252518992), (34.2259339418, 34.9859289825)],
                knots=[0, 0, 0, 1, 1, 1], degree=2))
        make_face()
        with BuildLine():
            Line((33.8596144973, 32.7348988606), (33.8596144973, 24.8234397706))
            add(Edge.make_bspline(
                [(35.5627394973, 28.8422657881), (35.5627394973, 26.3147561256), (33.8596144973, 24.8234397706)],
                knots=[0, 0, 0, 0.931741162, 0.931741162, 0.931741162], degree=2))
            add(Edge.make_bspline(
                [(34.7272360251, 31.9086720381), (35.5627394973, 30.7563282881), (35.5627394973, 28.8422657881)],
                knots=[0, 0, 0, 1, 1, 1], degree=2))
            add(Edge.make_bspline(
                [(33.8596144973, 32.7348988606), (34.3825983284, 32.3840035107), (34.7272360251, 31.9086720381)],
                knots=[0.5875089594, 0.5875089594, 0.5875089594, 1, 1, 1], degree=2))
        make_face()
        with Locations((44.4273228306, 41.1990366214)):
            Rectangle(F0_W, F0_H)
        with BuildLine():
            Line((48.8795797751, 42.9221268992), (45.2788853306, 42.9221268992))
            Line((45.2788853306, 42.9221268992), (45.2788853306, 39.4759463436))
            Line((45.2788853306, 39.4759463436), (43.5757603306, 39.4759463436))
            Line((43.5757603306, 39.4759463436), (43.5757603306, 35.1226477325))
            Line((43.5757603306, 35.1226477325), (44.7797533862, 35.1226477325))
            Line((44.7797533862, 35.1226477325), (44.7797533862, 31.6764671769))
            Line((44.7797533862, 31.6764671769), (43.5757603306, 31.6764671769))
            Line((43.5757603306, 31.6764671769), (43.5757603306, 26.5636199547))
            Line((43.5757603306, 26.5636199547), (45.2788853306, 26.5636199547))
            Line((45.2788853306, 26.5636199547), (45.2788853306, 23.0913977325))
            Line((45.2788853306, 23.0913977325), (47.3344408862, 23.0913977325))
            Line((47.3344408862, 23.0913977325), (47.3344408862, 32.4229949547))
            add(Edge.make_bspline(
                [(47.0740242195, 38.0913977325), (47.3344408862, 34.1200435658), (47.3344408862, 32.4229949547)],
                knots=[0, 0, 0, 1, 1, 1], degree=2))
            Line((47.0740242195, 38.0913977325), (47.1955519973, 38.0913977325))
            Line((47.1955519973, 38.0913977325), (55.8240242195, 23.0913977325))
            Line((55.8240242195, 23.0913977325), (61.166906164, 23.0913977325))
            Line((61.166906164, 23.0913977325), (61.166906164, 42.9221268992))
            Line((61.166906164, 42.9221268992), (57.3821839418, 42.9221268992))
            Line((57.3821839418, 42.9221268992), (57.3821839418, 33.5341060658))
            add(Edge.make_bspline(
                [(57.5861769973, 28.0696963436), (57.3821839418, 31.9368838436), (57.3821839418, 33.5341060658)],
                knots=[0, 0, 0, 1, 1, 1], degree=2))
            Line((57.5861769973, 28.0696963436), (57.4906908862, 28.0696963436))
            Line((57.4906908862, 28.0696963436), (48.8795797751, 42.9221268992))
        make_face()
        with Locations((44.4273228306, 24.8275088436)):
            Rectangle(F0_W, F0_H_2)
        with Locations((44.1777568584, 33.3995574547)):
            Rectangle(F0_W_2, F0_H)
    extrude(amount=F1_DEPTH)


solid = f1.part
